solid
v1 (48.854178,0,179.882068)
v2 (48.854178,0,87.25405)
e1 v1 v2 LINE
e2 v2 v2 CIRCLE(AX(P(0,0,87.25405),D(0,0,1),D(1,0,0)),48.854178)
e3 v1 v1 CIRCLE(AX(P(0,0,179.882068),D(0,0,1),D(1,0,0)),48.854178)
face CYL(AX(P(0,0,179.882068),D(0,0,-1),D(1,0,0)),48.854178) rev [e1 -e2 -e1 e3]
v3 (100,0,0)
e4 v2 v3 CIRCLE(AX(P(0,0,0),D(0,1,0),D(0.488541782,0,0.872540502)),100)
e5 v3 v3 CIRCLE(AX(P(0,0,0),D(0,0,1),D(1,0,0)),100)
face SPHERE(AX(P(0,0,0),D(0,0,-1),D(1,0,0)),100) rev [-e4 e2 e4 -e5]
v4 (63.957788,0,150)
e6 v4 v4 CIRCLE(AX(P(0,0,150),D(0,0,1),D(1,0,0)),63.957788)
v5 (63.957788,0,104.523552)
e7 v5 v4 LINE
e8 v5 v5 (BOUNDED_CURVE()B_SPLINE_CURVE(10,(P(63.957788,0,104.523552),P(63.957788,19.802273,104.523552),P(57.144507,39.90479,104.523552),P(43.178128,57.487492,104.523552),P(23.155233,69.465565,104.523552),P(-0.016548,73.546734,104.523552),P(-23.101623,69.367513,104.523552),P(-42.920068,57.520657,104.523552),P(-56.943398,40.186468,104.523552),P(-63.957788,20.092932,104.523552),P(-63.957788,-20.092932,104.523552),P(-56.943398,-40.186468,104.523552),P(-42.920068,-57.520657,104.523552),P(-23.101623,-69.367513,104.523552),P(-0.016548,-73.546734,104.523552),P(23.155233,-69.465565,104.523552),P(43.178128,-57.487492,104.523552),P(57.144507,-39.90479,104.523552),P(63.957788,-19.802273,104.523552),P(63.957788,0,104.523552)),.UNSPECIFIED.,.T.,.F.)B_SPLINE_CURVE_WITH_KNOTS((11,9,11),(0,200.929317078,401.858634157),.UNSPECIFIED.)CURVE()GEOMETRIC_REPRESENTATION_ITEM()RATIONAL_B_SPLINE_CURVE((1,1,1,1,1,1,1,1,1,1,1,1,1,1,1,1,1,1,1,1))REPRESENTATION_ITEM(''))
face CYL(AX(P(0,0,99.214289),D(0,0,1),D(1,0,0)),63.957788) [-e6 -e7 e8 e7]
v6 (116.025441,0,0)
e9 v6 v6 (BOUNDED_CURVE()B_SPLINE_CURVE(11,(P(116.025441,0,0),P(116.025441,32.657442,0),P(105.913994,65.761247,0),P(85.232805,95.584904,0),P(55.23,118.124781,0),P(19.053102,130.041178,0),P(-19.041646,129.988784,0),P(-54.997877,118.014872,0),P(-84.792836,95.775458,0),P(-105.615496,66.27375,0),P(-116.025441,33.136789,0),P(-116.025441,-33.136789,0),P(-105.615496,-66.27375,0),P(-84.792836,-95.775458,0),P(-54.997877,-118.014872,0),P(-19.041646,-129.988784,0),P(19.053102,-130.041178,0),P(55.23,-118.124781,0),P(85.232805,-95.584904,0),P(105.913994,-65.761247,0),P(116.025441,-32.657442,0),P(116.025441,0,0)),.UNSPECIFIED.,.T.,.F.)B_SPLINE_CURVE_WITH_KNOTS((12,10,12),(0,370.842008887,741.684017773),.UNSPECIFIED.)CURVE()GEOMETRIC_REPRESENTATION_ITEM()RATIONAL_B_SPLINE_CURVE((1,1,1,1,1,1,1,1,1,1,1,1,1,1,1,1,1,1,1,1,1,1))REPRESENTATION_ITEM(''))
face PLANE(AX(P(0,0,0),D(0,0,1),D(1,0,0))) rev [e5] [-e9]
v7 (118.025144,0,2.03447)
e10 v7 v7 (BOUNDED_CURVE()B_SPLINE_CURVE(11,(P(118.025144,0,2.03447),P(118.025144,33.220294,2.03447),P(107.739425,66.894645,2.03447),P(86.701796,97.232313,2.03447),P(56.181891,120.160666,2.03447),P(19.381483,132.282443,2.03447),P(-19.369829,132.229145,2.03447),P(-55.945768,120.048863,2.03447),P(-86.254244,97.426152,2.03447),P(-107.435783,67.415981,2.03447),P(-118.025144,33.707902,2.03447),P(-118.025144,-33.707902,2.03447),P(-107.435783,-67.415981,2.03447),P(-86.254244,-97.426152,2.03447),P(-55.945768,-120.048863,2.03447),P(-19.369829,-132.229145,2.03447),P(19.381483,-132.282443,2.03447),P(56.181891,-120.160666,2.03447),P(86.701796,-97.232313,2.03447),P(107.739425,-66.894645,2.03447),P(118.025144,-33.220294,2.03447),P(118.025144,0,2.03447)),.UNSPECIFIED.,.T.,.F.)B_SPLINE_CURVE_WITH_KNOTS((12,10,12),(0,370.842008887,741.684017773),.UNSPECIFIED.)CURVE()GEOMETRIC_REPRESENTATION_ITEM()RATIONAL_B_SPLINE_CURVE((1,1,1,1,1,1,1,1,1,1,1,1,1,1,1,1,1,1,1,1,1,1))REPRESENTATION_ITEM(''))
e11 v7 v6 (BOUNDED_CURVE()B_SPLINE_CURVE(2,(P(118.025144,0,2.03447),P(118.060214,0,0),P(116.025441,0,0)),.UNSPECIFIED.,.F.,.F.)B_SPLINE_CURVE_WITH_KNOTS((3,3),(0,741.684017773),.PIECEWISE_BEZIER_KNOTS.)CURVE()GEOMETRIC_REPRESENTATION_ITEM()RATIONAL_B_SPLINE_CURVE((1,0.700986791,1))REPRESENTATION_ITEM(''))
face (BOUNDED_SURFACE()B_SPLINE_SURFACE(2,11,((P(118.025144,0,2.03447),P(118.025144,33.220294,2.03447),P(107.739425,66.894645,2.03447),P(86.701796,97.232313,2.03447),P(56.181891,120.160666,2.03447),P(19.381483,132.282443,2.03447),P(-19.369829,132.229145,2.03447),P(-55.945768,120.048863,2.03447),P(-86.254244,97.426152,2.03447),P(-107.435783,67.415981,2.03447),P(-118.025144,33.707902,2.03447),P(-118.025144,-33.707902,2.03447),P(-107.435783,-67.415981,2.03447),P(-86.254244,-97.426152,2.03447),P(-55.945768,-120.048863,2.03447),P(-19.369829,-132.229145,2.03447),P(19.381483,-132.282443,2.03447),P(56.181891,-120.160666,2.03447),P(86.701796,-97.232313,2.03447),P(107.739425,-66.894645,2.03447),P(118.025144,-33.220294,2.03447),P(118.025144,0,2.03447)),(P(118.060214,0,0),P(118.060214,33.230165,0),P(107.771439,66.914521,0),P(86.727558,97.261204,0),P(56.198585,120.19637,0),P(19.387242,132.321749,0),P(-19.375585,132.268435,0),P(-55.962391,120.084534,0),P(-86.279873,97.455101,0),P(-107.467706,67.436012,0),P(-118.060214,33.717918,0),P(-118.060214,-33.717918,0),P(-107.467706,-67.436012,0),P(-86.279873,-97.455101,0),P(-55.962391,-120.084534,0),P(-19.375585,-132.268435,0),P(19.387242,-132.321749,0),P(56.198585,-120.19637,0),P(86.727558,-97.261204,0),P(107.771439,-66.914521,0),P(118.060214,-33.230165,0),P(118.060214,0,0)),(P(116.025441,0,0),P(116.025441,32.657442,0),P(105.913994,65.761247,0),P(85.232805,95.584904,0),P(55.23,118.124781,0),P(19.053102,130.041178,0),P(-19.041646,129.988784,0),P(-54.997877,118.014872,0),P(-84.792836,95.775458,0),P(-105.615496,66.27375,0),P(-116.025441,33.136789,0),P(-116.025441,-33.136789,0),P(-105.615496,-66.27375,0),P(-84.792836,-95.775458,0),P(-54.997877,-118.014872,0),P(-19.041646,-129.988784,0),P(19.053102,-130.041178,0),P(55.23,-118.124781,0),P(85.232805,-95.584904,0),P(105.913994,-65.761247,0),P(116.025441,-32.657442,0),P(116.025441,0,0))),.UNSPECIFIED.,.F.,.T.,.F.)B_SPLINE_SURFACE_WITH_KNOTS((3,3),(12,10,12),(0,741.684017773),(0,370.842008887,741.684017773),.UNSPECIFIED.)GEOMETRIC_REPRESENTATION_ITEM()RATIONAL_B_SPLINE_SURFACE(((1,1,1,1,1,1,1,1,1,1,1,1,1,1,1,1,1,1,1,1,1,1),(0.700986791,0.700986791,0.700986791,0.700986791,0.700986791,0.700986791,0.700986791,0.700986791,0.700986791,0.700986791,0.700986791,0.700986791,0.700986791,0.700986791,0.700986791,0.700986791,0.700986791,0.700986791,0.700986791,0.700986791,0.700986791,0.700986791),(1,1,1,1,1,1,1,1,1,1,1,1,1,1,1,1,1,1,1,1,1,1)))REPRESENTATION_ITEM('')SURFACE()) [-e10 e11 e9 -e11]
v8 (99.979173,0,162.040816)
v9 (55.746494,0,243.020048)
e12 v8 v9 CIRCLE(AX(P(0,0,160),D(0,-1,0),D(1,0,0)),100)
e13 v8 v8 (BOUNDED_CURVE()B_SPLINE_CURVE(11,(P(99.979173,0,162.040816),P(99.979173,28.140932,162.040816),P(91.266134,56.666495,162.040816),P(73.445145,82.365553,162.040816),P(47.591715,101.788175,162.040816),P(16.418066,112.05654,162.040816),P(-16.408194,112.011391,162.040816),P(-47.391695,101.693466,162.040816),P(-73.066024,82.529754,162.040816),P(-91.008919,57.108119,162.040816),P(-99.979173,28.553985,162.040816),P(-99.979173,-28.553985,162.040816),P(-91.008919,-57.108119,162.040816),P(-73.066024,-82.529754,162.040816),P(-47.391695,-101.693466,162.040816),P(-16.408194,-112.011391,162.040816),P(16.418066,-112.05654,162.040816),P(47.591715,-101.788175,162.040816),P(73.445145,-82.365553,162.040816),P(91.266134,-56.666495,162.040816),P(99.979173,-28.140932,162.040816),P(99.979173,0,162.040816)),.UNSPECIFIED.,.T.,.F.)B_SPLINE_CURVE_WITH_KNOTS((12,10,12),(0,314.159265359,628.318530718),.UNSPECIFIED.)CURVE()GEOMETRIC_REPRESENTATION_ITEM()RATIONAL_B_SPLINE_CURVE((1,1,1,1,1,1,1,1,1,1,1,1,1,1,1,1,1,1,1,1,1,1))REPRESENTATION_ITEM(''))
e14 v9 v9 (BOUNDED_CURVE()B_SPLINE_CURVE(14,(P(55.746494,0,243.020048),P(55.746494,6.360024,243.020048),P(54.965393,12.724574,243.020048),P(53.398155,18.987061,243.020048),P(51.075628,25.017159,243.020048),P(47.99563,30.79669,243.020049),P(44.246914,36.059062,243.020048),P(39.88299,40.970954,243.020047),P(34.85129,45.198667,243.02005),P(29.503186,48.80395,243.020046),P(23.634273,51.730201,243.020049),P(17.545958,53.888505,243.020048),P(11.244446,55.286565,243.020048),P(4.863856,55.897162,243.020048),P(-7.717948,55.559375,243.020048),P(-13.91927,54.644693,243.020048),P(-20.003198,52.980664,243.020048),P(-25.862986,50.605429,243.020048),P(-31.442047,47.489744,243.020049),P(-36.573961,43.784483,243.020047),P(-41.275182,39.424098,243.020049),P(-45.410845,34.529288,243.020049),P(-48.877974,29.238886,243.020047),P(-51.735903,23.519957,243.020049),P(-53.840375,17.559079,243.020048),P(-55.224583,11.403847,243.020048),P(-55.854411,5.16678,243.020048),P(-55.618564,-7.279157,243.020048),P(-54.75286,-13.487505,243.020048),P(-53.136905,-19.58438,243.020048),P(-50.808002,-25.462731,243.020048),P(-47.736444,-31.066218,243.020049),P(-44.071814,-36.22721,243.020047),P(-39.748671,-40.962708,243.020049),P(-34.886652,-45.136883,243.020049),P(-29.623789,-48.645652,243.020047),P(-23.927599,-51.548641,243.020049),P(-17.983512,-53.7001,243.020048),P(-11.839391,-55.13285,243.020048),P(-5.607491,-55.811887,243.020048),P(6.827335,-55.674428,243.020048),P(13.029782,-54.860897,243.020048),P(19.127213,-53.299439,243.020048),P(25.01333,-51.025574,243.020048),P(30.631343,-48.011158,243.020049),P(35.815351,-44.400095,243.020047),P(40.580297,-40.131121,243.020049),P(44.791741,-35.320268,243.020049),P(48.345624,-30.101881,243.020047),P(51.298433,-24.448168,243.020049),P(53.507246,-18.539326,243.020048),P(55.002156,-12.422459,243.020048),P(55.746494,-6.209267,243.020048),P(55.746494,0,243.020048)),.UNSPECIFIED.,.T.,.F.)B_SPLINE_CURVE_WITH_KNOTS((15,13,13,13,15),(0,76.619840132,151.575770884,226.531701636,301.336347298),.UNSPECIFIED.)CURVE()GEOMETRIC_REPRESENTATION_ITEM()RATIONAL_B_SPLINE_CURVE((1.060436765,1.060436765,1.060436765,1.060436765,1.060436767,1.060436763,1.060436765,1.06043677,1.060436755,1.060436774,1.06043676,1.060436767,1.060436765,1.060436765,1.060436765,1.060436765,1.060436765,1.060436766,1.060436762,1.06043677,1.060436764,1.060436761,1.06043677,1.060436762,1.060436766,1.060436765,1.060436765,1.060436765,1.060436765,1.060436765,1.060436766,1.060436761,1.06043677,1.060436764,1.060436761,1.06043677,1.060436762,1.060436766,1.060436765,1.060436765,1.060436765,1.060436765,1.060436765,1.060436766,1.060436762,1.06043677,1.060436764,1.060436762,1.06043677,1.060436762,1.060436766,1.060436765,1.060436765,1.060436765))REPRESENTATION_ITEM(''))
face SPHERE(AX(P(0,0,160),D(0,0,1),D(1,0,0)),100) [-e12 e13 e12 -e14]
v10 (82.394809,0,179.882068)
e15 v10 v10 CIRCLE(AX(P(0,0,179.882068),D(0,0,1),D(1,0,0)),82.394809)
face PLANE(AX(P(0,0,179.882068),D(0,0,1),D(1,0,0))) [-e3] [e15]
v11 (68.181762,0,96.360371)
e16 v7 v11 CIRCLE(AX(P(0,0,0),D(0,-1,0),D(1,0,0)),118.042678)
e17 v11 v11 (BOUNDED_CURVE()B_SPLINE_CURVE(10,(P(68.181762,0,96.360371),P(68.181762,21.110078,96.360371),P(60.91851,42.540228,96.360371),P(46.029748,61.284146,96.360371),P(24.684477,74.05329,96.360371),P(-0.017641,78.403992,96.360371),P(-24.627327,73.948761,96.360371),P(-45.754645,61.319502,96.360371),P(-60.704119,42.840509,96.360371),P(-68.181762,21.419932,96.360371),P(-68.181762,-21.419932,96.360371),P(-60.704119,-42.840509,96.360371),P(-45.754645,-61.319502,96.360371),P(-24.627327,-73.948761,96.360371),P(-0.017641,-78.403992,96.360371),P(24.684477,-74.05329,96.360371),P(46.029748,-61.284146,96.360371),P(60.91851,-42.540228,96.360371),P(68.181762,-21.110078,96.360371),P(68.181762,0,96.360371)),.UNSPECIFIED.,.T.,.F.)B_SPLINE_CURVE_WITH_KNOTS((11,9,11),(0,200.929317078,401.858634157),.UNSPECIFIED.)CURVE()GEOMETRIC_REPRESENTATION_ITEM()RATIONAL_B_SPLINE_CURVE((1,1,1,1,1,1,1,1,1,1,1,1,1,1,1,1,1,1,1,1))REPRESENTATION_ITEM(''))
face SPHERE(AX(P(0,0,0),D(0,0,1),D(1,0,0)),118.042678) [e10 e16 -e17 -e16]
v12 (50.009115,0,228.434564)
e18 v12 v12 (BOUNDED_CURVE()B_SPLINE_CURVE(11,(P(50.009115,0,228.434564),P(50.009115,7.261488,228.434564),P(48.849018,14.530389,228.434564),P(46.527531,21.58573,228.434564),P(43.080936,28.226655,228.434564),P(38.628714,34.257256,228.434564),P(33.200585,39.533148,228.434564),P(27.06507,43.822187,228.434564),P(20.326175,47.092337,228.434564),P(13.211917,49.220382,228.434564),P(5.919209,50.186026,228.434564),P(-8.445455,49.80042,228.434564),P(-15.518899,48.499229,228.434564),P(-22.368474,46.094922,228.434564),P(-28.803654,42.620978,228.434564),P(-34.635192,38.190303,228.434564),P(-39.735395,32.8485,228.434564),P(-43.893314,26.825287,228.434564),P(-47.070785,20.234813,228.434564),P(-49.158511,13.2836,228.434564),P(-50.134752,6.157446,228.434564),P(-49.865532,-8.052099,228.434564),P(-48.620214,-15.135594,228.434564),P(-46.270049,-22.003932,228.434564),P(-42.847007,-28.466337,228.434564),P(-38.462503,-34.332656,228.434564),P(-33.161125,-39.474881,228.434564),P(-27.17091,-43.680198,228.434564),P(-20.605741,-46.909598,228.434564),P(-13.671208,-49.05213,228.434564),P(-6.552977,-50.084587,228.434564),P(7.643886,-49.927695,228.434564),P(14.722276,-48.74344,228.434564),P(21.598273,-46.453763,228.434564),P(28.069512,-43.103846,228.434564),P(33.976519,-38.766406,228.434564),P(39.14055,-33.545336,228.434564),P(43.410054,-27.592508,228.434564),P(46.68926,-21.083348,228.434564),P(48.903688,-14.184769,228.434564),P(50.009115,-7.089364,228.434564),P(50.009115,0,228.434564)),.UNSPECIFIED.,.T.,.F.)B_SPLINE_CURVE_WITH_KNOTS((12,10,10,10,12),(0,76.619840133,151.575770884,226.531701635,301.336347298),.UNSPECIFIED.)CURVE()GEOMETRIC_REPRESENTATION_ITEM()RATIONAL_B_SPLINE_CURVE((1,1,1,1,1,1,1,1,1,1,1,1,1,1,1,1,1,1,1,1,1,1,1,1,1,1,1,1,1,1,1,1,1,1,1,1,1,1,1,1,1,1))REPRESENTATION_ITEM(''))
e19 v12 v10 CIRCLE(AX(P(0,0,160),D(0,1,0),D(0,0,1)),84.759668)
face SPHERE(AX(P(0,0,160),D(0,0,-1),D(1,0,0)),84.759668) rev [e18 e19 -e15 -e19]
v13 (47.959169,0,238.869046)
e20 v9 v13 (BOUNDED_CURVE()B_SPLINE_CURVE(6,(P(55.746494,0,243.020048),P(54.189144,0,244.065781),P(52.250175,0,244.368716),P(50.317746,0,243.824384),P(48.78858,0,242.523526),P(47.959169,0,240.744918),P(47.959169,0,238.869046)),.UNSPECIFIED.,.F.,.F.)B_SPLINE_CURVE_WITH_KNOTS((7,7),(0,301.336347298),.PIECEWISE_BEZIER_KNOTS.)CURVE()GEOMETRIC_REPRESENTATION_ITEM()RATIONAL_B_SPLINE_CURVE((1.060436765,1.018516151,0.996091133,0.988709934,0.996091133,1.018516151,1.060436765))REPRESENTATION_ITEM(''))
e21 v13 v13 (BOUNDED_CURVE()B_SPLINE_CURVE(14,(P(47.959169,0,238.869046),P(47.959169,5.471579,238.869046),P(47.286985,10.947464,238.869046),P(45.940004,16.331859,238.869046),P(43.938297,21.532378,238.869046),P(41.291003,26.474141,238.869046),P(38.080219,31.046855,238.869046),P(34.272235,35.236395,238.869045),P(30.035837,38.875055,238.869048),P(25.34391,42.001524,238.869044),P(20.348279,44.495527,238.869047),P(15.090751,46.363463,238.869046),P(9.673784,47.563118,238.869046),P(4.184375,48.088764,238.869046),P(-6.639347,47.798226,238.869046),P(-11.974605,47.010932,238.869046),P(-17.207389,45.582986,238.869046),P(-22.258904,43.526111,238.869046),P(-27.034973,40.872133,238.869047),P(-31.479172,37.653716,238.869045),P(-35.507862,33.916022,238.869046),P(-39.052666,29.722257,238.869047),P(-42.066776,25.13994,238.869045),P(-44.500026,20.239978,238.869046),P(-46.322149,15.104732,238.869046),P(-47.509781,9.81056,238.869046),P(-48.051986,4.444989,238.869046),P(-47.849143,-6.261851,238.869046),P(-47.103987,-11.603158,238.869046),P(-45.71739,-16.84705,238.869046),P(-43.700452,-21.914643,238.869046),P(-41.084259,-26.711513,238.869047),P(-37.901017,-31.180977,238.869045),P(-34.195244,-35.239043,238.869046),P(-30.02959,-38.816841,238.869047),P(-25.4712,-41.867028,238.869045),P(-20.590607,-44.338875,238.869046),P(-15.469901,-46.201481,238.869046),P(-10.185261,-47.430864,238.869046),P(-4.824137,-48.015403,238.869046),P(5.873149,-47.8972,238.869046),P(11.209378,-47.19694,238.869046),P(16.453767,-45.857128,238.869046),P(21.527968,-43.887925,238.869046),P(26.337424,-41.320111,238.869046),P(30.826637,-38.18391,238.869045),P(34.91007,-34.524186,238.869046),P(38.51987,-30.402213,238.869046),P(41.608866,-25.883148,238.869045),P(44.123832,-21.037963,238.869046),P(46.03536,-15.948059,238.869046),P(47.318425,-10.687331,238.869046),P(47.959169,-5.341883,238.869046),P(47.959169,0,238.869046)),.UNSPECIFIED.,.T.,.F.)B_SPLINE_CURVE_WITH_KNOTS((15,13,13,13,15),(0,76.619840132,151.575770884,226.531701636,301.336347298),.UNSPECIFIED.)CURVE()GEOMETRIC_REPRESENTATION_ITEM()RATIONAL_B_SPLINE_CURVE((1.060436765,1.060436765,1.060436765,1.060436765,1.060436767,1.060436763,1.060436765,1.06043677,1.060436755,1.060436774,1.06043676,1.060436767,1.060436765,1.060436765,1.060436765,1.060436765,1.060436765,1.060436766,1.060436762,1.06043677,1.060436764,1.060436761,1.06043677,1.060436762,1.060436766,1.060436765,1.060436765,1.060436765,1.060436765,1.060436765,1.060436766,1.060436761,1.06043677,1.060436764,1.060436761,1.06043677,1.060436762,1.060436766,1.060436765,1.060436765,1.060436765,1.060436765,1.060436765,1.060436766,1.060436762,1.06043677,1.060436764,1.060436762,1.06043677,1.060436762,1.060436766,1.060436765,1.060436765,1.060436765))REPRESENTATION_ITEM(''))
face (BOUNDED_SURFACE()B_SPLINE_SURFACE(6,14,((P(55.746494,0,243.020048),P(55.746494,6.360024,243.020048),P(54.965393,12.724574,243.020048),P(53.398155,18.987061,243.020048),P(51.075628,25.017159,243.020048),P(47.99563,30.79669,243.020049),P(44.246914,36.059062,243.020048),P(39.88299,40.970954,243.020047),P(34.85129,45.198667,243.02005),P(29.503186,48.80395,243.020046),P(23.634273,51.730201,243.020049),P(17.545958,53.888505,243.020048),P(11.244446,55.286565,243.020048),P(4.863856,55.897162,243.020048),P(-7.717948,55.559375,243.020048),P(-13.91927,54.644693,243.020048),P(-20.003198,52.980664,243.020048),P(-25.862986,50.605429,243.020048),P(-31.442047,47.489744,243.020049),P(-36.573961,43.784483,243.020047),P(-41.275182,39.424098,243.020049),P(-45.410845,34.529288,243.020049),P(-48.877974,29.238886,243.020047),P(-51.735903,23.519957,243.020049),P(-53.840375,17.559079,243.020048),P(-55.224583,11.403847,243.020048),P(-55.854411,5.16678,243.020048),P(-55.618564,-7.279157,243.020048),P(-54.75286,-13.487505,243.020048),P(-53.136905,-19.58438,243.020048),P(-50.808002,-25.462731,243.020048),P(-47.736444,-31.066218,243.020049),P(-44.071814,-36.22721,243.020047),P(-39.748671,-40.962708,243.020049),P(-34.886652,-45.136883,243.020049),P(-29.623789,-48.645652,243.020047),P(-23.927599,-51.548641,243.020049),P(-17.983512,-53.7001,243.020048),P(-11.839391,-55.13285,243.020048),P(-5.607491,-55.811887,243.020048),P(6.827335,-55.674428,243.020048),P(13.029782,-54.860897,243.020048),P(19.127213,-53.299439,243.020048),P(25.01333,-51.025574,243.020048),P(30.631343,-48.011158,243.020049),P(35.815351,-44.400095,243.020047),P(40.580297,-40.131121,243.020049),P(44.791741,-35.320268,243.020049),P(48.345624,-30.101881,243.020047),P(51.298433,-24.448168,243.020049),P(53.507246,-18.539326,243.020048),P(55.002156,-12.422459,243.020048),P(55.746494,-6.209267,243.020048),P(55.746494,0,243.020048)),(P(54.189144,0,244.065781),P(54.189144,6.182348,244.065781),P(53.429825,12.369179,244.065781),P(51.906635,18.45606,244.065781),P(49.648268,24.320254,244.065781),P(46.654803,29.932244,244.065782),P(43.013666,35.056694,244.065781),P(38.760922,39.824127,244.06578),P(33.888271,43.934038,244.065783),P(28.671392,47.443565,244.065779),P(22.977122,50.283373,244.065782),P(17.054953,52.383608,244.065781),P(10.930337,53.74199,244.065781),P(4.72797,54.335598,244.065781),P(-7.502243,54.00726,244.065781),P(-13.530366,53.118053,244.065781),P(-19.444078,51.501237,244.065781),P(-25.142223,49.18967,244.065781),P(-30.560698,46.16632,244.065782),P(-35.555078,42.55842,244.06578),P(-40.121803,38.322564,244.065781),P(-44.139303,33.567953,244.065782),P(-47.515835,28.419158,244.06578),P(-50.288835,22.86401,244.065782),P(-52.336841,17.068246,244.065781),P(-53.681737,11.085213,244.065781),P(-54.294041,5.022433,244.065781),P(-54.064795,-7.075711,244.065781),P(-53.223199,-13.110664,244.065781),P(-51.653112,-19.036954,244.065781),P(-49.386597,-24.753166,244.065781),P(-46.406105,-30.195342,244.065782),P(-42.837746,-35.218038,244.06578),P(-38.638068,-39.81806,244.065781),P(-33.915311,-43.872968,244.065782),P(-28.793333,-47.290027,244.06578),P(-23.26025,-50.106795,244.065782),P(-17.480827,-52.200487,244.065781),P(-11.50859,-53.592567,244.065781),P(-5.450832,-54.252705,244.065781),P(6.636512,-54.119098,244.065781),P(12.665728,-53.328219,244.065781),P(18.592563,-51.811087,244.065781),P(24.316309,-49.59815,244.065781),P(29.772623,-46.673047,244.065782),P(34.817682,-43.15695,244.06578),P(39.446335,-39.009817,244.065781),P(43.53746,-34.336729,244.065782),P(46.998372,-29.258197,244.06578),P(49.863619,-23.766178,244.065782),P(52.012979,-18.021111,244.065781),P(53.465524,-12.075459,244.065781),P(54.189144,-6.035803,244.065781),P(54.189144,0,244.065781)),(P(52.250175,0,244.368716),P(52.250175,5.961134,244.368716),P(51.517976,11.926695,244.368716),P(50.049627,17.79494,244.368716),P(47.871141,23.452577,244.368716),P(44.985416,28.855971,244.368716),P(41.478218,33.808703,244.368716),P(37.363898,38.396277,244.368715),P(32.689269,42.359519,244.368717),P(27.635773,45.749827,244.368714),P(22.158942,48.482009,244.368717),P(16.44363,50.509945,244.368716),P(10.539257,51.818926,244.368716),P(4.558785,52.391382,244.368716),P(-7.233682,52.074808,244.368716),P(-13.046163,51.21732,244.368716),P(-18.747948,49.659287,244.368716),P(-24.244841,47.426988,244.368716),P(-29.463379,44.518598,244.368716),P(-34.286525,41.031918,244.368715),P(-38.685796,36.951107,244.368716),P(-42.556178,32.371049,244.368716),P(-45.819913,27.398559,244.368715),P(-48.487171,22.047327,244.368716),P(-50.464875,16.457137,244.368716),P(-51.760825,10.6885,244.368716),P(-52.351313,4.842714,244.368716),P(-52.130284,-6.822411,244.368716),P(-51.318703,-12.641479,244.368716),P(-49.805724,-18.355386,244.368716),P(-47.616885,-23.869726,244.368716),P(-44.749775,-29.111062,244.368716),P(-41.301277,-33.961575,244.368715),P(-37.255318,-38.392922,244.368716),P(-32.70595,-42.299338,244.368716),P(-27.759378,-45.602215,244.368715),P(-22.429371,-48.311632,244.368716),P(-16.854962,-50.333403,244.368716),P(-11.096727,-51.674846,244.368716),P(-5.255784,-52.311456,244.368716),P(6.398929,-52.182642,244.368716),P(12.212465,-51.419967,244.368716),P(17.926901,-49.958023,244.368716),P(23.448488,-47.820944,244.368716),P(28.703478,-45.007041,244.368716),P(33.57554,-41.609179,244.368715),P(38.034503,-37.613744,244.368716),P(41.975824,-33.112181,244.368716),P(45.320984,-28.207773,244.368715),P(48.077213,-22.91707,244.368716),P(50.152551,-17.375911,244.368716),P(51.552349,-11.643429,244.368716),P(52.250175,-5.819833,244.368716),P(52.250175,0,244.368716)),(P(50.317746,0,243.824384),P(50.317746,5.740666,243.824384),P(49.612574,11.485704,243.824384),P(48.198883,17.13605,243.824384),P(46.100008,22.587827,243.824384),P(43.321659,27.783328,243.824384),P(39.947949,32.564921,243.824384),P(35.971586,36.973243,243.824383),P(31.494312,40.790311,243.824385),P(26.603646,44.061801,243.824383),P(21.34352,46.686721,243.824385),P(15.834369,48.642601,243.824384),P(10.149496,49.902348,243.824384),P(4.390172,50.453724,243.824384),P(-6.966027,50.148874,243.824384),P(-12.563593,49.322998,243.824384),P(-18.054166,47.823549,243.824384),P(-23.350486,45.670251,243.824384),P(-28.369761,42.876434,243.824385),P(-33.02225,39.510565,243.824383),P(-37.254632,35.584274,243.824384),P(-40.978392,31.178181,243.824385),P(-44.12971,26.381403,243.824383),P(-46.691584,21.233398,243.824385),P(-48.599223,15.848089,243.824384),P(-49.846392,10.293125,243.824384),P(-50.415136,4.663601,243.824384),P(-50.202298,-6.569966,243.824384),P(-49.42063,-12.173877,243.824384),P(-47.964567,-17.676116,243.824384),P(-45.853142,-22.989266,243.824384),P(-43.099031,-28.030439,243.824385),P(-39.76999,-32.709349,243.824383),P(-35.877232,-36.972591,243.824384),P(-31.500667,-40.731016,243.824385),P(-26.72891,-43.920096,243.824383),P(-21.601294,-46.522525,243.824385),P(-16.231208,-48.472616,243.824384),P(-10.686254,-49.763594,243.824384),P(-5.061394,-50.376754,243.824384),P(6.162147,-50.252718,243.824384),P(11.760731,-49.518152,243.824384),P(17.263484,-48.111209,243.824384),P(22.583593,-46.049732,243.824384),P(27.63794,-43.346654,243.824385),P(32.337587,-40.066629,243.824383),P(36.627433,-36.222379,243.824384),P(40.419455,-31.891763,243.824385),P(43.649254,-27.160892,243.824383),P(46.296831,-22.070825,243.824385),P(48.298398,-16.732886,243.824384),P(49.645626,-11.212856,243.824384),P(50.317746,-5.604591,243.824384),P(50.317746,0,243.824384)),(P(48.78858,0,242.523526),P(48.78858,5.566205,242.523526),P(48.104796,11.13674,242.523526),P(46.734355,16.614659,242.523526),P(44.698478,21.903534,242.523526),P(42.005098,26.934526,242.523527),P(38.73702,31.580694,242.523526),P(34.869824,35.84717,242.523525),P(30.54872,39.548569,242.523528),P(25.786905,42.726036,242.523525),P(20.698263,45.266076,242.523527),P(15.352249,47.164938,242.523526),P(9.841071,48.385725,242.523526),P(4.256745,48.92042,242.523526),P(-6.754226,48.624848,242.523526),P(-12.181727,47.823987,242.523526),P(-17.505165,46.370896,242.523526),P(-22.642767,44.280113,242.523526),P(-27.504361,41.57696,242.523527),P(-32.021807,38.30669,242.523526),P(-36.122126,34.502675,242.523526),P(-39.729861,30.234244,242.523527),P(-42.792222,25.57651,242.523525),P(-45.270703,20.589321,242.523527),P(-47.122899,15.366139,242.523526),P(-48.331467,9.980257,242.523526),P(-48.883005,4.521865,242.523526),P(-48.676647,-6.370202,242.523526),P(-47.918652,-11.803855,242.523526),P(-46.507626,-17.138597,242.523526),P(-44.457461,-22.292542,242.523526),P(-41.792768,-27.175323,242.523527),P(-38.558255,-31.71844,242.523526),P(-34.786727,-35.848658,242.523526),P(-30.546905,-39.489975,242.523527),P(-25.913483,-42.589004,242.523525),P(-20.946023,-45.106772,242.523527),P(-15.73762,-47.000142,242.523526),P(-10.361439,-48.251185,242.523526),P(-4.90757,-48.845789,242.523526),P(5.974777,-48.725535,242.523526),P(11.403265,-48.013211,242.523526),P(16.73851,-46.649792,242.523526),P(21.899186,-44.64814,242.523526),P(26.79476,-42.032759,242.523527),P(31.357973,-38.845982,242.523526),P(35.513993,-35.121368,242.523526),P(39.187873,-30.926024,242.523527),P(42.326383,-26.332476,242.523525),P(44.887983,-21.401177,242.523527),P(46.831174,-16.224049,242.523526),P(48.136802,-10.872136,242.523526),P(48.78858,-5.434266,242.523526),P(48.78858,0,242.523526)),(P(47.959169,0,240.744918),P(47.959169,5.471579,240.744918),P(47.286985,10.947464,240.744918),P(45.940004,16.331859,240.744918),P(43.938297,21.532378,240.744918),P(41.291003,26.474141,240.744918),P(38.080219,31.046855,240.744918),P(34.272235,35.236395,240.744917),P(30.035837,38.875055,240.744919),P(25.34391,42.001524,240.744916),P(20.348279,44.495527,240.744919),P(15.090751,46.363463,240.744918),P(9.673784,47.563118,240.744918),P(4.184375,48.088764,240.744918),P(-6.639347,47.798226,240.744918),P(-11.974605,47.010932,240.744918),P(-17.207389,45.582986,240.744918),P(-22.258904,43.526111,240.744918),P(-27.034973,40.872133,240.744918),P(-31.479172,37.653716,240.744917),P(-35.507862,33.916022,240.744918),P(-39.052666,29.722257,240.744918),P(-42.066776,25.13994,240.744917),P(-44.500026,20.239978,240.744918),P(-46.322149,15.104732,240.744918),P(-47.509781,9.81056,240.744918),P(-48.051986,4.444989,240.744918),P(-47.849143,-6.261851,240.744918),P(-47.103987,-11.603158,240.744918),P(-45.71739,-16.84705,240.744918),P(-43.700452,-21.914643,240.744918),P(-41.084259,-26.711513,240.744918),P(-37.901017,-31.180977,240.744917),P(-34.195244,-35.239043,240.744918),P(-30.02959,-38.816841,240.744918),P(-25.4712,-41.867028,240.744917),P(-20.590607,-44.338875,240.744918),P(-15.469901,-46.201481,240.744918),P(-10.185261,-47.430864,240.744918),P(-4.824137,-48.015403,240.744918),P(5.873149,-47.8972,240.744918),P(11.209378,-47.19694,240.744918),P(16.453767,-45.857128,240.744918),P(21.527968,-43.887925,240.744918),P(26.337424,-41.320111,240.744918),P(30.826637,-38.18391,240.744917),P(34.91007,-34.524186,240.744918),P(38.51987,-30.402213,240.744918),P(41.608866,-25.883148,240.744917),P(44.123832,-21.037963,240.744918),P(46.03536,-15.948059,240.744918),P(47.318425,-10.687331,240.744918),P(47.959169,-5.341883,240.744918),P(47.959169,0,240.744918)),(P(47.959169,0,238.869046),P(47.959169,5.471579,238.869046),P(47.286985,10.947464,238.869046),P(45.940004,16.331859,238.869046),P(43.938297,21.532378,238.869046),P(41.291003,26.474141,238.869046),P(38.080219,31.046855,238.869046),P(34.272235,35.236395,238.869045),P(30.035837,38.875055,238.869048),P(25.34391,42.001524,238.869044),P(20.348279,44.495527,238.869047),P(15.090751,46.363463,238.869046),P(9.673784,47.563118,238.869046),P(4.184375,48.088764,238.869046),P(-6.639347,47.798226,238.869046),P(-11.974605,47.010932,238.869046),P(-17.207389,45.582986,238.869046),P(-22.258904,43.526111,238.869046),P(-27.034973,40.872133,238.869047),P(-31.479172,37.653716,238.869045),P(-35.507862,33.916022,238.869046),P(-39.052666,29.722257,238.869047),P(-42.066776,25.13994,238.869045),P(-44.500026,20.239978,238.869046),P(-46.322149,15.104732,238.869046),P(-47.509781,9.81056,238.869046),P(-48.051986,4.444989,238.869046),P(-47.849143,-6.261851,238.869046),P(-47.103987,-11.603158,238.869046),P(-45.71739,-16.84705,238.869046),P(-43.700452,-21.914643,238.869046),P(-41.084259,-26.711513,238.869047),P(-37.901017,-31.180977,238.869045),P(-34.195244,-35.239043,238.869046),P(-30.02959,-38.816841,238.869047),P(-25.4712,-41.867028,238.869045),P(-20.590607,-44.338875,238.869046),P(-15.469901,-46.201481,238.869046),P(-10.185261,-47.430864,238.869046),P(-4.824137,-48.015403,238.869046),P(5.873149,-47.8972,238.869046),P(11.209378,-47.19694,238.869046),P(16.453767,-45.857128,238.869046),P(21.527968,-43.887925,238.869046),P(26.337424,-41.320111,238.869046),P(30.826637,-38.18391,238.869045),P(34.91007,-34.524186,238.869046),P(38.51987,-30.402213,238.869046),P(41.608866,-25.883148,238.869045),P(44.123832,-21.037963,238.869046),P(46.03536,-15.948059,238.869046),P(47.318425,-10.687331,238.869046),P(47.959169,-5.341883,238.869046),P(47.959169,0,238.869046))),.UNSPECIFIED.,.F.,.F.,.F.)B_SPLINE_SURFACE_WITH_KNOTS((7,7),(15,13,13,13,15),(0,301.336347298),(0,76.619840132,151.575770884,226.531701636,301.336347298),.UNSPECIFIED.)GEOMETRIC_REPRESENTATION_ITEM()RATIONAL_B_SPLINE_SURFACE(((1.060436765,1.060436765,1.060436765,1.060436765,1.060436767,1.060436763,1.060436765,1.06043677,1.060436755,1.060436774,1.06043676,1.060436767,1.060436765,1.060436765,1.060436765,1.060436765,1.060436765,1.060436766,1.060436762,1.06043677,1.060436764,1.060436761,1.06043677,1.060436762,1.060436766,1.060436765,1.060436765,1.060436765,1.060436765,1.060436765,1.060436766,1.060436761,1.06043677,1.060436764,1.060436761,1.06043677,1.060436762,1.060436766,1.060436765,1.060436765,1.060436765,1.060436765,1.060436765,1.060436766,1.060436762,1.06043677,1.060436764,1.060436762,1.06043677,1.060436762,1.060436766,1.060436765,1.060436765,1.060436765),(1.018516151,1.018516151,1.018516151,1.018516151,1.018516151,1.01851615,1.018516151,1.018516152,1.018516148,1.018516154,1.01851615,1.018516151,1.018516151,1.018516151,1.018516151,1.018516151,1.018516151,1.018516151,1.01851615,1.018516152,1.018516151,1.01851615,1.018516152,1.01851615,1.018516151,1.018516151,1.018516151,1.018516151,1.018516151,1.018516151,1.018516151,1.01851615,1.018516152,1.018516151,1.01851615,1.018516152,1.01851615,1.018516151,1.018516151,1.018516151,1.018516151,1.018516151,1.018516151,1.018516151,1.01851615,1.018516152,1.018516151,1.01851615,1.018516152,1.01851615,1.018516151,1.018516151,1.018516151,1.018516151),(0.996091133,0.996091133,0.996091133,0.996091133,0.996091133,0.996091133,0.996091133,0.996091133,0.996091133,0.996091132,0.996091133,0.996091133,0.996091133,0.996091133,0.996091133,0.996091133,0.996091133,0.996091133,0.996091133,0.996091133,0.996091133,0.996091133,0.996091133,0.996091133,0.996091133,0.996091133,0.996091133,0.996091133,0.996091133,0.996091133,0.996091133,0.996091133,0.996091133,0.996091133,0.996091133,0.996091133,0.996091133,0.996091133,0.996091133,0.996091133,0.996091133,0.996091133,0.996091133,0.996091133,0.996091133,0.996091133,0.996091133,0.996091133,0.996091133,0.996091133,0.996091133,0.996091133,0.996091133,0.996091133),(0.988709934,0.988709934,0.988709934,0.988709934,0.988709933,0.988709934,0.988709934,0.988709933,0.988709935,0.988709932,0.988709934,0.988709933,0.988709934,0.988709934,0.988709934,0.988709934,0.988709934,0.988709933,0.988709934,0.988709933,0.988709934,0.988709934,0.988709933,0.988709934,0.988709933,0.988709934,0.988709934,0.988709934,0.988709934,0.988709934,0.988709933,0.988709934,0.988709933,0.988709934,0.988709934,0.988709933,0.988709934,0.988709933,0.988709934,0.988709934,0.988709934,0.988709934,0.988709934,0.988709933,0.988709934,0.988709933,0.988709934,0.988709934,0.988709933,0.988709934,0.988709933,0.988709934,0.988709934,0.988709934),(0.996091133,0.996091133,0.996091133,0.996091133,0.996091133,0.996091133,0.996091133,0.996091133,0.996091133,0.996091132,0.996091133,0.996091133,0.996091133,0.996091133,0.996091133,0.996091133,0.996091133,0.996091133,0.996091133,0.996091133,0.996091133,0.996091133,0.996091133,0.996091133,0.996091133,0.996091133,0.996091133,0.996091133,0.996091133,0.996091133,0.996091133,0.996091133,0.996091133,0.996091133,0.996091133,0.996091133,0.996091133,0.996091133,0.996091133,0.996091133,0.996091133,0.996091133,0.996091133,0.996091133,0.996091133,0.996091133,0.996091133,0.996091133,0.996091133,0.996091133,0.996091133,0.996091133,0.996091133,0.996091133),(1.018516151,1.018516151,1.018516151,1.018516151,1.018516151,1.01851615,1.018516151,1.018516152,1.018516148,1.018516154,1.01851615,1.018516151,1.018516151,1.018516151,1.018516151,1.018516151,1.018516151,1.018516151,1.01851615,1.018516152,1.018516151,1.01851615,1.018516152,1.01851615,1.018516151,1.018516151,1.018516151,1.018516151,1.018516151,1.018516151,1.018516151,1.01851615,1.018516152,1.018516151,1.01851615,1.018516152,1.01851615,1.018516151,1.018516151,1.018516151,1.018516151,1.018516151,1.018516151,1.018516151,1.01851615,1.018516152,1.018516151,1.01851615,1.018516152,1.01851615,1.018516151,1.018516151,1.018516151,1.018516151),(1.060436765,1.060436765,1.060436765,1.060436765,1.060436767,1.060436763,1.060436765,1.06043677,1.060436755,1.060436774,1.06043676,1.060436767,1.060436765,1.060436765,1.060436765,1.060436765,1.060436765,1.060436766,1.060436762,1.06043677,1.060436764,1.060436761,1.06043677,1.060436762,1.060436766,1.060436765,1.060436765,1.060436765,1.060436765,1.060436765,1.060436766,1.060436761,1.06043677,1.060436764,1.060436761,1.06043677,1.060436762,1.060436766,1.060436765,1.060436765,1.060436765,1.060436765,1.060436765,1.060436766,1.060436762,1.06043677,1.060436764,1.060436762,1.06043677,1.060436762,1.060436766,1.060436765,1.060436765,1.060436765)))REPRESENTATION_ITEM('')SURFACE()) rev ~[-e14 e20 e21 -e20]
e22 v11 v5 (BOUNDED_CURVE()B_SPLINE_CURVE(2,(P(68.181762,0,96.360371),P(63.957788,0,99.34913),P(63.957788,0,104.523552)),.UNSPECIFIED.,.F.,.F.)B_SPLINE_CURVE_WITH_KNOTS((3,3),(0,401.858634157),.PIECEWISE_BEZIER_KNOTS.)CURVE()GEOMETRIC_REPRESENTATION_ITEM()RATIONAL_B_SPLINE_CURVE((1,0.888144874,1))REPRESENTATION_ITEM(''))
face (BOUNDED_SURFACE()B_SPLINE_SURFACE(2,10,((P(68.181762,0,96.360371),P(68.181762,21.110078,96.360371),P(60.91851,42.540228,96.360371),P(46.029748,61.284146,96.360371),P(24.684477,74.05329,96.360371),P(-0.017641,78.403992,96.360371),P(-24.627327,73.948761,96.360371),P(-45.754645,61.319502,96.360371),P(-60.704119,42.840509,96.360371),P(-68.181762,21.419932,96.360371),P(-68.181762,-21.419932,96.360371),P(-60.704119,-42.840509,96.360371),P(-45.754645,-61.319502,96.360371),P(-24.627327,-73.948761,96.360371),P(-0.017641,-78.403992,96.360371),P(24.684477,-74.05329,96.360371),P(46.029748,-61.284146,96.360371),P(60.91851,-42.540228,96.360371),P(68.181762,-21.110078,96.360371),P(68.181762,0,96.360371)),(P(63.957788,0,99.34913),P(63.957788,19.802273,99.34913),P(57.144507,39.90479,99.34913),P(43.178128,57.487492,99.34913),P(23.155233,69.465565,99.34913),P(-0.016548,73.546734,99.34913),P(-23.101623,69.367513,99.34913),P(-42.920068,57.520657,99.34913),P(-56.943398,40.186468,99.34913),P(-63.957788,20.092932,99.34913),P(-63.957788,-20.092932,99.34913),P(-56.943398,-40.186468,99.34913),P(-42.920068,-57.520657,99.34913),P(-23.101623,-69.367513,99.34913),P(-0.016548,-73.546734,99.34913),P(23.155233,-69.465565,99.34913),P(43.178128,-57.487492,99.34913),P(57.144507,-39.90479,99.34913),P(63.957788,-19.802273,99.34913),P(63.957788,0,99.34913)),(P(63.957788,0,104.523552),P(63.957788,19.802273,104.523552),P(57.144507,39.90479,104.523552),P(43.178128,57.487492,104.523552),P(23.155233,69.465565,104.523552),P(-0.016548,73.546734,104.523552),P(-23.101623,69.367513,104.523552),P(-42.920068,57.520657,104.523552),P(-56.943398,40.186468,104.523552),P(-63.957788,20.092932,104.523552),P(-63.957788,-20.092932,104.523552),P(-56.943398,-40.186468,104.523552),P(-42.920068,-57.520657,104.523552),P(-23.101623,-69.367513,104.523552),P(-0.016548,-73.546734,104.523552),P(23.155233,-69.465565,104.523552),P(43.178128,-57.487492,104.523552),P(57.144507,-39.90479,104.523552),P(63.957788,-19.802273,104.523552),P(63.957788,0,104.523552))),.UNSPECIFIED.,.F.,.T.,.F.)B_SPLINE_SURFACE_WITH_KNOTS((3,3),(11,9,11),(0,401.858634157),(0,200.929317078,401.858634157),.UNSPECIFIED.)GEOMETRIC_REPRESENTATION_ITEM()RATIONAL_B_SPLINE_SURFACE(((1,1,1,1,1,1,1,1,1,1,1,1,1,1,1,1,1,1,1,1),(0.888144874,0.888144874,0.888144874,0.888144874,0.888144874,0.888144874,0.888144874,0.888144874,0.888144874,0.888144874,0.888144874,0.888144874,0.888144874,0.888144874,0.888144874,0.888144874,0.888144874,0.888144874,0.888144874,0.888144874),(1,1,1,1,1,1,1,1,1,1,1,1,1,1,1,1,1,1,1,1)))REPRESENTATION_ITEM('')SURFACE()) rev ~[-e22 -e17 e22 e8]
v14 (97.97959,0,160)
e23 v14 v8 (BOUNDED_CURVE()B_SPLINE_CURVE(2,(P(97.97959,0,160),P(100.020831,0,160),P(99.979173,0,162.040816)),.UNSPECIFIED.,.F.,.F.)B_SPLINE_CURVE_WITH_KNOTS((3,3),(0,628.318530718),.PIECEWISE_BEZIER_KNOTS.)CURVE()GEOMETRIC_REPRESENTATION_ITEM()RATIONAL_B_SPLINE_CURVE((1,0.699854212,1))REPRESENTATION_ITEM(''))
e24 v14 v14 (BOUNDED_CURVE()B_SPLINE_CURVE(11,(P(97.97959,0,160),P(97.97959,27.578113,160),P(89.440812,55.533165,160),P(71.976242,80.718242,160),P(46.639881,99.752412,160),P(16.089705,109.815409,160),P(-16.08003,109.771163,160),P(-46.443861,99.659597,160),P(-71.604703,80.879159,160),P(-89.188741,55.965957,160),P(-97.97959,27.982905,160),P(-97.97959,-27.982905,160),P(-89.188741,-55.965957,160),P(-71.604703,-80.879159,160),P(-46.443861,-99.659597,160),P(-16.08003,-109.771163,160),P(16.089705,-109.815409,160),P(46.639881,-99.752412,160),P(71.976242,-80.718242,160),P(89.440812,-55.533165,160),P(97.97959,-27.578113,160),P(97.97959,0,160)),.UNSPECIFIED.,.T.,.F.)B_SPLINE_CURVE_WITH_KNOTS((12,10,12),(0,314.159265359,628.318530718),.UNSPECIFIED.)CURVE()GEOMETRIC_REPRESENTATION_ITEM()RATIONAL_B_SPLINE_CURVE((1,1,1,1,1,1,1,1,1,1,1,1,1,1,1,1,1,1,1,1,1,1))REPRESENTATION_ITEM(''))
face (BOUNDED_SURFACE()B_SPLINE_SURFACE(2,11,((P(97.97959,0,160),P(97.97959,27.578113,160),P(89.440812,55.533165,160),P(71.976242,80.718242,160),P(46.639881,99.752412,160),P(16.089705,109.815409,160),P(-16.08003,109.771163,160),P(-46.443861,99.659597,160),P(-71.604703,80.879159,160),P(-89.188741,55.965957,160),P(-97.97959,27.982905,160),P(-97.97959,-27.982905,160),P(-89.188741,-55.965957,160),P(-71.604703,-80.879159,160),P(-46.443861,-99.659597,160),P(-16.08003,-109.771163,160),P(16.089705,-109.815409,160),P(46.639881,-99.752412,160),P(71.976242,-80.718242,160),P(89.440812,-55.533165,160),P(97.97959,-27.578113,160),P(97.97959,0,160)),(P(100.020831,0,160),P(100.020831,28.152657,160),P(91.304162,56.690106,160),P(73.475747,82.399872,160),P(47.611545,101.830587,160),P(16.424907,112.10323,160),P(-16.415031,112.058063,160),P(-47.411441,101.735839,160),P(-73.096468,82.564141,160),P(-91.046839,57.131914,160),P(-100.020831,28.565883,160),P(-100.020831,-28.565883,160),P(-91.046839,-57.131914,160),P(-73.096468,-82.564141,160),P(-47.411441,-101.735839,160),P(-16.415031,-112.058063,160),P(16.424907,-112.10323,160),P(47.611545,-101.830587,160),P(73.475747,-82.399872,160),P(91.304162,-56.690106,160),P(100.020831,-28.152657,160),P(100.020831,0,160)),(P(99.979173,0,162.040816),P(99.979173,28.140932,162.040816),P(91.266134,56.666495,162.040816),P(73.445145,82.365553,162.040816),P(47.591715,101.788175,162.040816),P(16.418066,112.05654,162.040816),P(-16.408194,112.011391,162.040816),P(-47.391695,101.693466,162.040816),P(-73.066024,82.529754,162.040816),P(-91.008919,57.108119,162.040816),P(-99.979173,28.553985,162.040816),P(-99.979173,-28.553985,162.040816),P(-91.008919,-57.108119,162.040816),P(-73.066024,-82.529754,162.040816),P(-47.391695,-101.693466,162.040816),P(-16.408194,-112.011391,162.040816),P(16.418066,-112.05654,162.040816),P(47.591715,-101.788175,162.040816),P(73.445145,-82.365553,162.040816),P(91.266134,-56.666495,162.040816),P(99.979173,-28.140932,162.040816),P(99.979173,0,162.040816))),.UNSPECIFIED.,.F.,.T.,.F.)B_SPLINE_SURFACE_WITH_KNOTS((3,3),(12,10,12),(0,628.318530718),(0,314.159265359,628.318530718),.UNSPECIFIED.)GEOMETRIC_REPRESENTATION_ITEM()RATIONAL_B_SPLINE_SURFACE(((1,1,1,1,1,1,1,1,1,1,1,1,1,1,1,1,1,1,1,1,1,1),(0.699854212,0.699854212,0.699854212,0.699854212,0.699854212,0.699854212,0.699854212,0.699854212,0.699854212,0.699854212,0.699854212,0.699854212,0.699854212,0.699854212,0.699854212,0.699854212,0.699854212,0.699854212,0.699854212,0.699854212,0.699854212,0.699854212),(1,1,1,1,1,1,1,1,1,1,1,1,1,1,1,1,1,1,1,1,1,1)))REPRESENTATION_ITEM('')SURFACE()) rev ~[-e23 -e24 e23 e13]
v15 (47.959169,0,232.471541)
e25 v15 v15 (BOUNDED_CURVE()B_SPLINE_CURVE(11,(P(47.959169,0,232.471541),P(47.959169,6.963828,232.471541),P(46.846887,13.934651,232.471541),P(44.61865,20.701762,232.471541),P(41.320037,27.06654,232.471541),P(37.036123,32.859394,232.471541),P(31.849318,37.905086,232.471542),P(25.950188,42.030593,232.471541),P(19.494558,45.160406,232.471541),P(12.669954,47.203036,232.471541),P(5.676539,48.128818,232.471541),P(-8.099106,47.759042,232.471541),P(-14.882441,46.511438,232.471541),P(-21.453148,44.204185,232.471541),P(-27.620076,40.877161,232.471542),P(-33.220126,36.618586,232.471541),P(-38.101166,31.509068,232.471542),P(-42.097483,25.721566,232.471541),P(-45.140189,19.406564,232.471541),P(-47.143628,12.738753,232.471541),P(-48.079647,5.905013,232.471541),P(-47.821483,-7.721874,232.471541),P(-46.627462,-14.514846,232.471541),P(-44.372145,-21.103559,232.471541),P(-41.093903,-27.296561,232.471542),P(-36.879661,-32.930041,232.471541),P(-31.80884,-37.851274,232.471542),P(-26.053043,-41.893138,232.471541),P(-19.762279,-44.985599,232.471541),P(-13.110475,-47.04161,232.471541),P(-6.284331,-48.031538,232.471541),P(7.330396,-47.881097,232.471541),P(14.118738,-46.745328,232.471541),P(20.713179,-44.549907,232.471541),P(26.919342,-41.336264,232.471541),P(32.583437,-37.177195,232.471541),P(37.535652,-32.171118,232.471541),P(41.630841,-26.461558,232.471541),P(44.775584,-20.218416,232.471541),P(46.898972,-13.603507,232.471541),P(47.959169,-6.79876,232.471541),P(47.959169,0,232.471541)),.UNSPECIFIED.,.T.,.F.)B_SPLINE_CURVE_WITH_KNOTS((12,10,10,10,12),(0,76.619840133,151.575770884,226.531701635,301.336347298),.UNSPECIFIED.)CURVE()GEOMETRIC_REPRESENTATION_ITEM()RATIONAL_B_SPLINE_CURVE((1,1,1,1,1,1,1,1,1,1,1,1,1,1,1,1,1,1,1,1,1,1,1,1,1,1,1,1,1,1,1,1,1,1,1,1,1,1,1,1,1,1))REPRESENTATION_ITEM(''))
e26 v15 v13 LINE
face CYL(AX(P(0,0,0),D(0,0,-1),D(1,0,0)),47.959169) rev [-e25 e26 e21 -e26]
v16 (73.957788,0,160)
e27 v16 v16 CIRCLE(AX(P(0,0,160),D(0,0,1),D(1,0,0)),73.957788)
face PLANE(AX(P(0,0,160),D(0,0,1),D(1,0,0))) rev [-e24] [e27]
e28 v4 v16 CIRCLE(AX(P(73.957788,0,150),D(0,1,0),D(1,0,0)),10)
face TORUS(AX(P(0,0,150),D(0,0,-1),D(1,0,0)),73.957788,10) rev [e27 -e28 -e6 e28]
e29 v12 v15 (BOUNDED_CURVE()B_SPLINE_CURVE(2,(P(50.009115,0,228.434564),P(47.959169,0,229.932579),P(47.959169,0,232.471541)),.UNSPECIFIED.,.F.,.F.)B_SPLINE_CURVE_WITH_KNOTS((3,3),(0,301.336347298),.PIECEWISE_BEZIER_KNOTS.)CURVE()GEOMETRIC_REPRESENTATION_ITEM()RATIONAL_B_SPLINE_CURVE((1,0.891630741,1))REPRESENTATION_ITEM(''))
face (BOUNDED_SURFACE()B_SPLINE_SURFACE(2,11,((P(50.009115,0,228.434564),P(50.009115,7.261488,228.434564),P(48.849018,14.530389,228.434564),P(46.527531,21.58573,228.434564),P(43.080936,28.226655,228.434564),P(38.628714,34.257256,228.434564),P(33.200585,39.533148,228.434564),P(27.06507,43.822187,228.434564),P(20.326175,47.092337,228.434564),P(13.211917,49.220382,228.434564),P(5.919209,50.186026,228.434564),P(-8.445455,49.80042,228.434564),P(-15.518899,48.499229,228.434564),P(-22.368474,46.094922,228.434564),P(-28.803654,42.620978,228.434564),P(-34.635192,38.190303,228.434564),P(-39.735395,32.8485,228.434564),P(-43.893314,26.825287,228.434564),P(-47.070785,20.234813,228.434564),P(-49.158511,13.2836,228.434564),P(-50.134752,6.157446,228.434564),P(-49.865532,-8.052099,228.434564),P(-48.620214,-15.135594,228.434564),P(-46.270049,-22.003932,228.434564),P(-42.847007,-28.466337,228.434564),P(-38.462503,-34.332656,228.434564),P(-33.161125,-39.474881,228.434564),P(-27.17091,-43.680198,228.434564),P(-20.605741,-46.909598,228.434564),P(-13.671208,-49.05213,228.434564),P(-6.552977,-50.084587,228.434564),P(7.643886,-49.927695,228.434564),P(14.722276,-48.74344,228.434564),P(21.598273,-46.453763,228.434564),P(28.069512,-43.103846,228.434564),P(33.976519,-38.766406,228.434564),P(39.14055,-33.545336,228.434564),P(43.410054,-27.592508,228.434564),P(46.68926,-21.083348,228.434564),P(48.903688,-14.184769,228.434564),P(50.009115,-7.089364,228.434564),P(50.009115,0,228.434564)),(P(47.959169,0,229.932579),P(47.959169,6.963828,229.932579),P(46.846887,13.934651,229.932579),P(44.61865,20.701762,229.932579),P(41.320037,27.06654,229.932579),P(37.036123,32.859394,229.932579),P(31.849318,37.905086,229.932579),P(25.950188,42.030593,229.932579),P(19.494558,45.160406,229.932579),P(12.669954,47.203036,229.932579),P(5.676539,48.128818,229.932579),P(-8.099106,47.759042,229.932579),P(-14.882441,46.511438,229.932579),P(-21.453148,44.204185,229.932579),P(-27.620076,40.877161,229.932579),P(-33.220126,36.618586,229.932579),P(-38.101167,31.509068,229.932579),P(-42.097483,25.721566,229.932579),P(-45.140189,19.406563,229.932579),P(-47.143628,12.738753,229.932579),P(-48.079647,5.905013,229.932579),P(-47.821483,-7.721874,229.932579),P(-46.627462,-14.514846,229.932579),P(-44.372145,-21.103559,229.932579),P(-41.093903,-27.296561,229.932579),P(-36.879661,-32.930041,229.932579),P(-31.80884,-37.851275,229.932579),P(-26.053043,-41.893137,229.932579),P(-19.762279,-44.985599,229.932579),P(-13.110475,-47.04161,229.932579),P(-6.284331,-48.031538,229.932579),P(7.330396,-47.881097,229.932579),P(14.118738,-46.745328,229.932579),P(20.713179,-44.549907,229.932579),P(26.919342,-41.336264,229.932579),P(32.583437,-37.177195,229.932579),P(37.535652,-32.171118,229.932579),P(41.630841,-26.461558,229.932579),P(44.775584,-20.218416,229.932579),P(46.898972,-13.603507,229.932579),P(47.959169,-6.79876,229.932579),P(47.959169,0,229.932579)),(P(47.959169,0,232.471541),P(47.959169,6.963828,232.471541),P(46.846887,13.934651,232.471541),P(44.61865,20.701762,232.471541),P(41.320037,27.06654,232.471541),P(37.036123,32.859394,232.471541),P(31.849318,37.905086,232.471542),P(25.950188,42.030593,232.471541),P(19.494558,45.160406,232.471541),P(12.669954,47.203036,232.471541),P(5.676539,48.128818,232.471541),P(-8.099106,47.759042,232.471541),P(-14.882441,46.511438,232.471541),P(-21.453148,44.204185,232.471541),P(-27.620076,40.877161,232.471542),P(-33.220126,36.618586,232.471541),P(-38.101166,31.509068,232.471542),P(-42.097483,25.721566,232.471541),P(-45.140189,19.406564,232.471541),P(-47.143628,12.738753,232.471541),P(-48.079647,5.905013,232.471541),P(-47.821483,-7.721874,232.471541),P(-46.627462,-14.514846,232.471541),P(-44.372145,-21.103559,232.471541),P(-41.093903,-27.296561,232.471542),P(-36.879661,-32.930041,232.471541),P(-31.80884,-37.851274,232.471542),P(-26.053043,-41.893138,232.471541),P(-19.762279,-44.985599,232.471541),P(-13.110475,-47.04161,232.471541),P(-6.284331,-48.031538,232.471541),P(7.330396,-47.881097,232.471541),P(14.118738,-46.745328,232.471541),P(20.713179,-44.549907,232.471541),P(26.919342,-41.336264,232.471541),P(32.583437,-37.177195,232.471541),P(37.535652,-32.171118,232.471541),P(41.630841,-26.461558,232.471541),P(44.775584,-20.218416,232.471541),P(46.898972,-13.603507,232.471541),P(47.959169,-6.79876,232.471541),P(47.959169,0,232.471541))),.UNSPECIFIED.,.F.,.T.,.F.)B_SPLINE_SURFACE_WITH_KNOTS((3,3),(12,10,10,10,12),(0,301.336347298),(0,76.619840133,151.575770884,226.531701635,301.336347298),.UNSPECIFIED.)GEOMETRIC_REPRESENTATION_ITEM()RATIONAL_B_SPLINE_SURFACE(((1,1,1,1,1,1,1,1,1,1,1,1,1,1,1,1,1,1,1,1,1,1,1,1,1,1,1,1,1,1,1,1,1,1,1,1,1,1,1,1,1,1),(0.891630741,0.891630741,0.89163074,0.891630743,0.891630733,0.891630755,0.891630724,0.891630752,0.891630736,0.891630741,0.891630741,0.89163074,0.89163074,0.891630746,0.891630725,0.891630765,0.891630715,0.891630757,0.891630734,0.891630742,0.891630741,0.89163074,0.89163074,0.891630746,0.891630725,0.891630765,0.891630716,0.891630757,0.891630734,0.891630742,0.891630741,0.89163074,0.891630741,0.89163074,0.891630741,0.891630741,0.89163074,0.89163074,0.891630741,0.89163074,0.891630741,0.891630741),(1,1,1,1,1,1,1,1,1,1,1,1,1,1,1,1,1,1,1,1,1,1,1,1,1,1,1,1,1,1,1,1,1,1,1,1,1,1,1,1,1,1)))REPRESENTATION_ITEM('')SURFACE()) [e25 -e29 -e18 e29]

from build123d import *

# Parameters (mm, degrees)
F2_R     = 47.9591692075
F3_DEPTH = 261
F4_R     = 10
F5_R     = 2
F6_R     = 5


with BuildPart() as f1:
    # F0 (on Front) → F1 (revolve)
    with BuildSketch(Plane.XZ):
        with BuildLine():
            ThreePointArc((48.8541781645, 87.2540501975), (86.2711360087, 50.5696657273), (100, 0))
            Line((100, 0), (118.0426776409, 0))
            ThreePointArc((118.0426776409, 0), (103.6431915325, 56.4992264868), (63.9577880502, 99.214288751))
            Line((63.9577880502, 99.214288751), (63.9577880502, 160))
            Line((63.9577880502, 160), (100, 160))
            ThreePointArc((100, 160), (70.7106781187, 230.7106781187), (0, 260))
            Line((0, 260), (0, 244.7596675158))
            ThreePointArc((0, 244.7596675158), (52.4356930146, 226.5935382411), (82.3948094726, 179.8820675321))
            Line((82.3948094726, 179.8820675321), (48.8541781645, 179.8820675321))
            Line((48.8541781645, 179.8820675321), (48.8541781645, 87.2540501975))
        make_face()
    revolve(axis=Axis((0, 0, 80), (0, 0, 1)))

    # F2 (on Top) → F3 (cut)
    with BuildSketch(Plane.XY):
        Circle(F2_R)
    extrude(amount=F3_DEPTH, mode=Mode.SUBTRACT)

    # F4
    f4_edges = [f1.edges().sort_by_distance(p)[0] for p in [
        (-63.957788, 0, 160),
        (-63.957788, 0, 99.214289),
    ]]
    fillet(f4_edges, radius=F4_R)

    # F5
    f5_edges = [f1.edges().sort_by_distance(p)[0] for p in [
        (-100, 0, 160),
        (-118.042678, 0, 0),
    ]]
    fillet(f5_edges, radius=F5_R)

    # F6
    f6_edges = [f1.edges().sort_by_distance(p)[0] for p in [
        (-47.959169, 0, 229.886475),
        (-47.959169, 0, 247.749177),
    ]]
    fillet(f6_edges, radius=F6_R)


solid = f1.part
